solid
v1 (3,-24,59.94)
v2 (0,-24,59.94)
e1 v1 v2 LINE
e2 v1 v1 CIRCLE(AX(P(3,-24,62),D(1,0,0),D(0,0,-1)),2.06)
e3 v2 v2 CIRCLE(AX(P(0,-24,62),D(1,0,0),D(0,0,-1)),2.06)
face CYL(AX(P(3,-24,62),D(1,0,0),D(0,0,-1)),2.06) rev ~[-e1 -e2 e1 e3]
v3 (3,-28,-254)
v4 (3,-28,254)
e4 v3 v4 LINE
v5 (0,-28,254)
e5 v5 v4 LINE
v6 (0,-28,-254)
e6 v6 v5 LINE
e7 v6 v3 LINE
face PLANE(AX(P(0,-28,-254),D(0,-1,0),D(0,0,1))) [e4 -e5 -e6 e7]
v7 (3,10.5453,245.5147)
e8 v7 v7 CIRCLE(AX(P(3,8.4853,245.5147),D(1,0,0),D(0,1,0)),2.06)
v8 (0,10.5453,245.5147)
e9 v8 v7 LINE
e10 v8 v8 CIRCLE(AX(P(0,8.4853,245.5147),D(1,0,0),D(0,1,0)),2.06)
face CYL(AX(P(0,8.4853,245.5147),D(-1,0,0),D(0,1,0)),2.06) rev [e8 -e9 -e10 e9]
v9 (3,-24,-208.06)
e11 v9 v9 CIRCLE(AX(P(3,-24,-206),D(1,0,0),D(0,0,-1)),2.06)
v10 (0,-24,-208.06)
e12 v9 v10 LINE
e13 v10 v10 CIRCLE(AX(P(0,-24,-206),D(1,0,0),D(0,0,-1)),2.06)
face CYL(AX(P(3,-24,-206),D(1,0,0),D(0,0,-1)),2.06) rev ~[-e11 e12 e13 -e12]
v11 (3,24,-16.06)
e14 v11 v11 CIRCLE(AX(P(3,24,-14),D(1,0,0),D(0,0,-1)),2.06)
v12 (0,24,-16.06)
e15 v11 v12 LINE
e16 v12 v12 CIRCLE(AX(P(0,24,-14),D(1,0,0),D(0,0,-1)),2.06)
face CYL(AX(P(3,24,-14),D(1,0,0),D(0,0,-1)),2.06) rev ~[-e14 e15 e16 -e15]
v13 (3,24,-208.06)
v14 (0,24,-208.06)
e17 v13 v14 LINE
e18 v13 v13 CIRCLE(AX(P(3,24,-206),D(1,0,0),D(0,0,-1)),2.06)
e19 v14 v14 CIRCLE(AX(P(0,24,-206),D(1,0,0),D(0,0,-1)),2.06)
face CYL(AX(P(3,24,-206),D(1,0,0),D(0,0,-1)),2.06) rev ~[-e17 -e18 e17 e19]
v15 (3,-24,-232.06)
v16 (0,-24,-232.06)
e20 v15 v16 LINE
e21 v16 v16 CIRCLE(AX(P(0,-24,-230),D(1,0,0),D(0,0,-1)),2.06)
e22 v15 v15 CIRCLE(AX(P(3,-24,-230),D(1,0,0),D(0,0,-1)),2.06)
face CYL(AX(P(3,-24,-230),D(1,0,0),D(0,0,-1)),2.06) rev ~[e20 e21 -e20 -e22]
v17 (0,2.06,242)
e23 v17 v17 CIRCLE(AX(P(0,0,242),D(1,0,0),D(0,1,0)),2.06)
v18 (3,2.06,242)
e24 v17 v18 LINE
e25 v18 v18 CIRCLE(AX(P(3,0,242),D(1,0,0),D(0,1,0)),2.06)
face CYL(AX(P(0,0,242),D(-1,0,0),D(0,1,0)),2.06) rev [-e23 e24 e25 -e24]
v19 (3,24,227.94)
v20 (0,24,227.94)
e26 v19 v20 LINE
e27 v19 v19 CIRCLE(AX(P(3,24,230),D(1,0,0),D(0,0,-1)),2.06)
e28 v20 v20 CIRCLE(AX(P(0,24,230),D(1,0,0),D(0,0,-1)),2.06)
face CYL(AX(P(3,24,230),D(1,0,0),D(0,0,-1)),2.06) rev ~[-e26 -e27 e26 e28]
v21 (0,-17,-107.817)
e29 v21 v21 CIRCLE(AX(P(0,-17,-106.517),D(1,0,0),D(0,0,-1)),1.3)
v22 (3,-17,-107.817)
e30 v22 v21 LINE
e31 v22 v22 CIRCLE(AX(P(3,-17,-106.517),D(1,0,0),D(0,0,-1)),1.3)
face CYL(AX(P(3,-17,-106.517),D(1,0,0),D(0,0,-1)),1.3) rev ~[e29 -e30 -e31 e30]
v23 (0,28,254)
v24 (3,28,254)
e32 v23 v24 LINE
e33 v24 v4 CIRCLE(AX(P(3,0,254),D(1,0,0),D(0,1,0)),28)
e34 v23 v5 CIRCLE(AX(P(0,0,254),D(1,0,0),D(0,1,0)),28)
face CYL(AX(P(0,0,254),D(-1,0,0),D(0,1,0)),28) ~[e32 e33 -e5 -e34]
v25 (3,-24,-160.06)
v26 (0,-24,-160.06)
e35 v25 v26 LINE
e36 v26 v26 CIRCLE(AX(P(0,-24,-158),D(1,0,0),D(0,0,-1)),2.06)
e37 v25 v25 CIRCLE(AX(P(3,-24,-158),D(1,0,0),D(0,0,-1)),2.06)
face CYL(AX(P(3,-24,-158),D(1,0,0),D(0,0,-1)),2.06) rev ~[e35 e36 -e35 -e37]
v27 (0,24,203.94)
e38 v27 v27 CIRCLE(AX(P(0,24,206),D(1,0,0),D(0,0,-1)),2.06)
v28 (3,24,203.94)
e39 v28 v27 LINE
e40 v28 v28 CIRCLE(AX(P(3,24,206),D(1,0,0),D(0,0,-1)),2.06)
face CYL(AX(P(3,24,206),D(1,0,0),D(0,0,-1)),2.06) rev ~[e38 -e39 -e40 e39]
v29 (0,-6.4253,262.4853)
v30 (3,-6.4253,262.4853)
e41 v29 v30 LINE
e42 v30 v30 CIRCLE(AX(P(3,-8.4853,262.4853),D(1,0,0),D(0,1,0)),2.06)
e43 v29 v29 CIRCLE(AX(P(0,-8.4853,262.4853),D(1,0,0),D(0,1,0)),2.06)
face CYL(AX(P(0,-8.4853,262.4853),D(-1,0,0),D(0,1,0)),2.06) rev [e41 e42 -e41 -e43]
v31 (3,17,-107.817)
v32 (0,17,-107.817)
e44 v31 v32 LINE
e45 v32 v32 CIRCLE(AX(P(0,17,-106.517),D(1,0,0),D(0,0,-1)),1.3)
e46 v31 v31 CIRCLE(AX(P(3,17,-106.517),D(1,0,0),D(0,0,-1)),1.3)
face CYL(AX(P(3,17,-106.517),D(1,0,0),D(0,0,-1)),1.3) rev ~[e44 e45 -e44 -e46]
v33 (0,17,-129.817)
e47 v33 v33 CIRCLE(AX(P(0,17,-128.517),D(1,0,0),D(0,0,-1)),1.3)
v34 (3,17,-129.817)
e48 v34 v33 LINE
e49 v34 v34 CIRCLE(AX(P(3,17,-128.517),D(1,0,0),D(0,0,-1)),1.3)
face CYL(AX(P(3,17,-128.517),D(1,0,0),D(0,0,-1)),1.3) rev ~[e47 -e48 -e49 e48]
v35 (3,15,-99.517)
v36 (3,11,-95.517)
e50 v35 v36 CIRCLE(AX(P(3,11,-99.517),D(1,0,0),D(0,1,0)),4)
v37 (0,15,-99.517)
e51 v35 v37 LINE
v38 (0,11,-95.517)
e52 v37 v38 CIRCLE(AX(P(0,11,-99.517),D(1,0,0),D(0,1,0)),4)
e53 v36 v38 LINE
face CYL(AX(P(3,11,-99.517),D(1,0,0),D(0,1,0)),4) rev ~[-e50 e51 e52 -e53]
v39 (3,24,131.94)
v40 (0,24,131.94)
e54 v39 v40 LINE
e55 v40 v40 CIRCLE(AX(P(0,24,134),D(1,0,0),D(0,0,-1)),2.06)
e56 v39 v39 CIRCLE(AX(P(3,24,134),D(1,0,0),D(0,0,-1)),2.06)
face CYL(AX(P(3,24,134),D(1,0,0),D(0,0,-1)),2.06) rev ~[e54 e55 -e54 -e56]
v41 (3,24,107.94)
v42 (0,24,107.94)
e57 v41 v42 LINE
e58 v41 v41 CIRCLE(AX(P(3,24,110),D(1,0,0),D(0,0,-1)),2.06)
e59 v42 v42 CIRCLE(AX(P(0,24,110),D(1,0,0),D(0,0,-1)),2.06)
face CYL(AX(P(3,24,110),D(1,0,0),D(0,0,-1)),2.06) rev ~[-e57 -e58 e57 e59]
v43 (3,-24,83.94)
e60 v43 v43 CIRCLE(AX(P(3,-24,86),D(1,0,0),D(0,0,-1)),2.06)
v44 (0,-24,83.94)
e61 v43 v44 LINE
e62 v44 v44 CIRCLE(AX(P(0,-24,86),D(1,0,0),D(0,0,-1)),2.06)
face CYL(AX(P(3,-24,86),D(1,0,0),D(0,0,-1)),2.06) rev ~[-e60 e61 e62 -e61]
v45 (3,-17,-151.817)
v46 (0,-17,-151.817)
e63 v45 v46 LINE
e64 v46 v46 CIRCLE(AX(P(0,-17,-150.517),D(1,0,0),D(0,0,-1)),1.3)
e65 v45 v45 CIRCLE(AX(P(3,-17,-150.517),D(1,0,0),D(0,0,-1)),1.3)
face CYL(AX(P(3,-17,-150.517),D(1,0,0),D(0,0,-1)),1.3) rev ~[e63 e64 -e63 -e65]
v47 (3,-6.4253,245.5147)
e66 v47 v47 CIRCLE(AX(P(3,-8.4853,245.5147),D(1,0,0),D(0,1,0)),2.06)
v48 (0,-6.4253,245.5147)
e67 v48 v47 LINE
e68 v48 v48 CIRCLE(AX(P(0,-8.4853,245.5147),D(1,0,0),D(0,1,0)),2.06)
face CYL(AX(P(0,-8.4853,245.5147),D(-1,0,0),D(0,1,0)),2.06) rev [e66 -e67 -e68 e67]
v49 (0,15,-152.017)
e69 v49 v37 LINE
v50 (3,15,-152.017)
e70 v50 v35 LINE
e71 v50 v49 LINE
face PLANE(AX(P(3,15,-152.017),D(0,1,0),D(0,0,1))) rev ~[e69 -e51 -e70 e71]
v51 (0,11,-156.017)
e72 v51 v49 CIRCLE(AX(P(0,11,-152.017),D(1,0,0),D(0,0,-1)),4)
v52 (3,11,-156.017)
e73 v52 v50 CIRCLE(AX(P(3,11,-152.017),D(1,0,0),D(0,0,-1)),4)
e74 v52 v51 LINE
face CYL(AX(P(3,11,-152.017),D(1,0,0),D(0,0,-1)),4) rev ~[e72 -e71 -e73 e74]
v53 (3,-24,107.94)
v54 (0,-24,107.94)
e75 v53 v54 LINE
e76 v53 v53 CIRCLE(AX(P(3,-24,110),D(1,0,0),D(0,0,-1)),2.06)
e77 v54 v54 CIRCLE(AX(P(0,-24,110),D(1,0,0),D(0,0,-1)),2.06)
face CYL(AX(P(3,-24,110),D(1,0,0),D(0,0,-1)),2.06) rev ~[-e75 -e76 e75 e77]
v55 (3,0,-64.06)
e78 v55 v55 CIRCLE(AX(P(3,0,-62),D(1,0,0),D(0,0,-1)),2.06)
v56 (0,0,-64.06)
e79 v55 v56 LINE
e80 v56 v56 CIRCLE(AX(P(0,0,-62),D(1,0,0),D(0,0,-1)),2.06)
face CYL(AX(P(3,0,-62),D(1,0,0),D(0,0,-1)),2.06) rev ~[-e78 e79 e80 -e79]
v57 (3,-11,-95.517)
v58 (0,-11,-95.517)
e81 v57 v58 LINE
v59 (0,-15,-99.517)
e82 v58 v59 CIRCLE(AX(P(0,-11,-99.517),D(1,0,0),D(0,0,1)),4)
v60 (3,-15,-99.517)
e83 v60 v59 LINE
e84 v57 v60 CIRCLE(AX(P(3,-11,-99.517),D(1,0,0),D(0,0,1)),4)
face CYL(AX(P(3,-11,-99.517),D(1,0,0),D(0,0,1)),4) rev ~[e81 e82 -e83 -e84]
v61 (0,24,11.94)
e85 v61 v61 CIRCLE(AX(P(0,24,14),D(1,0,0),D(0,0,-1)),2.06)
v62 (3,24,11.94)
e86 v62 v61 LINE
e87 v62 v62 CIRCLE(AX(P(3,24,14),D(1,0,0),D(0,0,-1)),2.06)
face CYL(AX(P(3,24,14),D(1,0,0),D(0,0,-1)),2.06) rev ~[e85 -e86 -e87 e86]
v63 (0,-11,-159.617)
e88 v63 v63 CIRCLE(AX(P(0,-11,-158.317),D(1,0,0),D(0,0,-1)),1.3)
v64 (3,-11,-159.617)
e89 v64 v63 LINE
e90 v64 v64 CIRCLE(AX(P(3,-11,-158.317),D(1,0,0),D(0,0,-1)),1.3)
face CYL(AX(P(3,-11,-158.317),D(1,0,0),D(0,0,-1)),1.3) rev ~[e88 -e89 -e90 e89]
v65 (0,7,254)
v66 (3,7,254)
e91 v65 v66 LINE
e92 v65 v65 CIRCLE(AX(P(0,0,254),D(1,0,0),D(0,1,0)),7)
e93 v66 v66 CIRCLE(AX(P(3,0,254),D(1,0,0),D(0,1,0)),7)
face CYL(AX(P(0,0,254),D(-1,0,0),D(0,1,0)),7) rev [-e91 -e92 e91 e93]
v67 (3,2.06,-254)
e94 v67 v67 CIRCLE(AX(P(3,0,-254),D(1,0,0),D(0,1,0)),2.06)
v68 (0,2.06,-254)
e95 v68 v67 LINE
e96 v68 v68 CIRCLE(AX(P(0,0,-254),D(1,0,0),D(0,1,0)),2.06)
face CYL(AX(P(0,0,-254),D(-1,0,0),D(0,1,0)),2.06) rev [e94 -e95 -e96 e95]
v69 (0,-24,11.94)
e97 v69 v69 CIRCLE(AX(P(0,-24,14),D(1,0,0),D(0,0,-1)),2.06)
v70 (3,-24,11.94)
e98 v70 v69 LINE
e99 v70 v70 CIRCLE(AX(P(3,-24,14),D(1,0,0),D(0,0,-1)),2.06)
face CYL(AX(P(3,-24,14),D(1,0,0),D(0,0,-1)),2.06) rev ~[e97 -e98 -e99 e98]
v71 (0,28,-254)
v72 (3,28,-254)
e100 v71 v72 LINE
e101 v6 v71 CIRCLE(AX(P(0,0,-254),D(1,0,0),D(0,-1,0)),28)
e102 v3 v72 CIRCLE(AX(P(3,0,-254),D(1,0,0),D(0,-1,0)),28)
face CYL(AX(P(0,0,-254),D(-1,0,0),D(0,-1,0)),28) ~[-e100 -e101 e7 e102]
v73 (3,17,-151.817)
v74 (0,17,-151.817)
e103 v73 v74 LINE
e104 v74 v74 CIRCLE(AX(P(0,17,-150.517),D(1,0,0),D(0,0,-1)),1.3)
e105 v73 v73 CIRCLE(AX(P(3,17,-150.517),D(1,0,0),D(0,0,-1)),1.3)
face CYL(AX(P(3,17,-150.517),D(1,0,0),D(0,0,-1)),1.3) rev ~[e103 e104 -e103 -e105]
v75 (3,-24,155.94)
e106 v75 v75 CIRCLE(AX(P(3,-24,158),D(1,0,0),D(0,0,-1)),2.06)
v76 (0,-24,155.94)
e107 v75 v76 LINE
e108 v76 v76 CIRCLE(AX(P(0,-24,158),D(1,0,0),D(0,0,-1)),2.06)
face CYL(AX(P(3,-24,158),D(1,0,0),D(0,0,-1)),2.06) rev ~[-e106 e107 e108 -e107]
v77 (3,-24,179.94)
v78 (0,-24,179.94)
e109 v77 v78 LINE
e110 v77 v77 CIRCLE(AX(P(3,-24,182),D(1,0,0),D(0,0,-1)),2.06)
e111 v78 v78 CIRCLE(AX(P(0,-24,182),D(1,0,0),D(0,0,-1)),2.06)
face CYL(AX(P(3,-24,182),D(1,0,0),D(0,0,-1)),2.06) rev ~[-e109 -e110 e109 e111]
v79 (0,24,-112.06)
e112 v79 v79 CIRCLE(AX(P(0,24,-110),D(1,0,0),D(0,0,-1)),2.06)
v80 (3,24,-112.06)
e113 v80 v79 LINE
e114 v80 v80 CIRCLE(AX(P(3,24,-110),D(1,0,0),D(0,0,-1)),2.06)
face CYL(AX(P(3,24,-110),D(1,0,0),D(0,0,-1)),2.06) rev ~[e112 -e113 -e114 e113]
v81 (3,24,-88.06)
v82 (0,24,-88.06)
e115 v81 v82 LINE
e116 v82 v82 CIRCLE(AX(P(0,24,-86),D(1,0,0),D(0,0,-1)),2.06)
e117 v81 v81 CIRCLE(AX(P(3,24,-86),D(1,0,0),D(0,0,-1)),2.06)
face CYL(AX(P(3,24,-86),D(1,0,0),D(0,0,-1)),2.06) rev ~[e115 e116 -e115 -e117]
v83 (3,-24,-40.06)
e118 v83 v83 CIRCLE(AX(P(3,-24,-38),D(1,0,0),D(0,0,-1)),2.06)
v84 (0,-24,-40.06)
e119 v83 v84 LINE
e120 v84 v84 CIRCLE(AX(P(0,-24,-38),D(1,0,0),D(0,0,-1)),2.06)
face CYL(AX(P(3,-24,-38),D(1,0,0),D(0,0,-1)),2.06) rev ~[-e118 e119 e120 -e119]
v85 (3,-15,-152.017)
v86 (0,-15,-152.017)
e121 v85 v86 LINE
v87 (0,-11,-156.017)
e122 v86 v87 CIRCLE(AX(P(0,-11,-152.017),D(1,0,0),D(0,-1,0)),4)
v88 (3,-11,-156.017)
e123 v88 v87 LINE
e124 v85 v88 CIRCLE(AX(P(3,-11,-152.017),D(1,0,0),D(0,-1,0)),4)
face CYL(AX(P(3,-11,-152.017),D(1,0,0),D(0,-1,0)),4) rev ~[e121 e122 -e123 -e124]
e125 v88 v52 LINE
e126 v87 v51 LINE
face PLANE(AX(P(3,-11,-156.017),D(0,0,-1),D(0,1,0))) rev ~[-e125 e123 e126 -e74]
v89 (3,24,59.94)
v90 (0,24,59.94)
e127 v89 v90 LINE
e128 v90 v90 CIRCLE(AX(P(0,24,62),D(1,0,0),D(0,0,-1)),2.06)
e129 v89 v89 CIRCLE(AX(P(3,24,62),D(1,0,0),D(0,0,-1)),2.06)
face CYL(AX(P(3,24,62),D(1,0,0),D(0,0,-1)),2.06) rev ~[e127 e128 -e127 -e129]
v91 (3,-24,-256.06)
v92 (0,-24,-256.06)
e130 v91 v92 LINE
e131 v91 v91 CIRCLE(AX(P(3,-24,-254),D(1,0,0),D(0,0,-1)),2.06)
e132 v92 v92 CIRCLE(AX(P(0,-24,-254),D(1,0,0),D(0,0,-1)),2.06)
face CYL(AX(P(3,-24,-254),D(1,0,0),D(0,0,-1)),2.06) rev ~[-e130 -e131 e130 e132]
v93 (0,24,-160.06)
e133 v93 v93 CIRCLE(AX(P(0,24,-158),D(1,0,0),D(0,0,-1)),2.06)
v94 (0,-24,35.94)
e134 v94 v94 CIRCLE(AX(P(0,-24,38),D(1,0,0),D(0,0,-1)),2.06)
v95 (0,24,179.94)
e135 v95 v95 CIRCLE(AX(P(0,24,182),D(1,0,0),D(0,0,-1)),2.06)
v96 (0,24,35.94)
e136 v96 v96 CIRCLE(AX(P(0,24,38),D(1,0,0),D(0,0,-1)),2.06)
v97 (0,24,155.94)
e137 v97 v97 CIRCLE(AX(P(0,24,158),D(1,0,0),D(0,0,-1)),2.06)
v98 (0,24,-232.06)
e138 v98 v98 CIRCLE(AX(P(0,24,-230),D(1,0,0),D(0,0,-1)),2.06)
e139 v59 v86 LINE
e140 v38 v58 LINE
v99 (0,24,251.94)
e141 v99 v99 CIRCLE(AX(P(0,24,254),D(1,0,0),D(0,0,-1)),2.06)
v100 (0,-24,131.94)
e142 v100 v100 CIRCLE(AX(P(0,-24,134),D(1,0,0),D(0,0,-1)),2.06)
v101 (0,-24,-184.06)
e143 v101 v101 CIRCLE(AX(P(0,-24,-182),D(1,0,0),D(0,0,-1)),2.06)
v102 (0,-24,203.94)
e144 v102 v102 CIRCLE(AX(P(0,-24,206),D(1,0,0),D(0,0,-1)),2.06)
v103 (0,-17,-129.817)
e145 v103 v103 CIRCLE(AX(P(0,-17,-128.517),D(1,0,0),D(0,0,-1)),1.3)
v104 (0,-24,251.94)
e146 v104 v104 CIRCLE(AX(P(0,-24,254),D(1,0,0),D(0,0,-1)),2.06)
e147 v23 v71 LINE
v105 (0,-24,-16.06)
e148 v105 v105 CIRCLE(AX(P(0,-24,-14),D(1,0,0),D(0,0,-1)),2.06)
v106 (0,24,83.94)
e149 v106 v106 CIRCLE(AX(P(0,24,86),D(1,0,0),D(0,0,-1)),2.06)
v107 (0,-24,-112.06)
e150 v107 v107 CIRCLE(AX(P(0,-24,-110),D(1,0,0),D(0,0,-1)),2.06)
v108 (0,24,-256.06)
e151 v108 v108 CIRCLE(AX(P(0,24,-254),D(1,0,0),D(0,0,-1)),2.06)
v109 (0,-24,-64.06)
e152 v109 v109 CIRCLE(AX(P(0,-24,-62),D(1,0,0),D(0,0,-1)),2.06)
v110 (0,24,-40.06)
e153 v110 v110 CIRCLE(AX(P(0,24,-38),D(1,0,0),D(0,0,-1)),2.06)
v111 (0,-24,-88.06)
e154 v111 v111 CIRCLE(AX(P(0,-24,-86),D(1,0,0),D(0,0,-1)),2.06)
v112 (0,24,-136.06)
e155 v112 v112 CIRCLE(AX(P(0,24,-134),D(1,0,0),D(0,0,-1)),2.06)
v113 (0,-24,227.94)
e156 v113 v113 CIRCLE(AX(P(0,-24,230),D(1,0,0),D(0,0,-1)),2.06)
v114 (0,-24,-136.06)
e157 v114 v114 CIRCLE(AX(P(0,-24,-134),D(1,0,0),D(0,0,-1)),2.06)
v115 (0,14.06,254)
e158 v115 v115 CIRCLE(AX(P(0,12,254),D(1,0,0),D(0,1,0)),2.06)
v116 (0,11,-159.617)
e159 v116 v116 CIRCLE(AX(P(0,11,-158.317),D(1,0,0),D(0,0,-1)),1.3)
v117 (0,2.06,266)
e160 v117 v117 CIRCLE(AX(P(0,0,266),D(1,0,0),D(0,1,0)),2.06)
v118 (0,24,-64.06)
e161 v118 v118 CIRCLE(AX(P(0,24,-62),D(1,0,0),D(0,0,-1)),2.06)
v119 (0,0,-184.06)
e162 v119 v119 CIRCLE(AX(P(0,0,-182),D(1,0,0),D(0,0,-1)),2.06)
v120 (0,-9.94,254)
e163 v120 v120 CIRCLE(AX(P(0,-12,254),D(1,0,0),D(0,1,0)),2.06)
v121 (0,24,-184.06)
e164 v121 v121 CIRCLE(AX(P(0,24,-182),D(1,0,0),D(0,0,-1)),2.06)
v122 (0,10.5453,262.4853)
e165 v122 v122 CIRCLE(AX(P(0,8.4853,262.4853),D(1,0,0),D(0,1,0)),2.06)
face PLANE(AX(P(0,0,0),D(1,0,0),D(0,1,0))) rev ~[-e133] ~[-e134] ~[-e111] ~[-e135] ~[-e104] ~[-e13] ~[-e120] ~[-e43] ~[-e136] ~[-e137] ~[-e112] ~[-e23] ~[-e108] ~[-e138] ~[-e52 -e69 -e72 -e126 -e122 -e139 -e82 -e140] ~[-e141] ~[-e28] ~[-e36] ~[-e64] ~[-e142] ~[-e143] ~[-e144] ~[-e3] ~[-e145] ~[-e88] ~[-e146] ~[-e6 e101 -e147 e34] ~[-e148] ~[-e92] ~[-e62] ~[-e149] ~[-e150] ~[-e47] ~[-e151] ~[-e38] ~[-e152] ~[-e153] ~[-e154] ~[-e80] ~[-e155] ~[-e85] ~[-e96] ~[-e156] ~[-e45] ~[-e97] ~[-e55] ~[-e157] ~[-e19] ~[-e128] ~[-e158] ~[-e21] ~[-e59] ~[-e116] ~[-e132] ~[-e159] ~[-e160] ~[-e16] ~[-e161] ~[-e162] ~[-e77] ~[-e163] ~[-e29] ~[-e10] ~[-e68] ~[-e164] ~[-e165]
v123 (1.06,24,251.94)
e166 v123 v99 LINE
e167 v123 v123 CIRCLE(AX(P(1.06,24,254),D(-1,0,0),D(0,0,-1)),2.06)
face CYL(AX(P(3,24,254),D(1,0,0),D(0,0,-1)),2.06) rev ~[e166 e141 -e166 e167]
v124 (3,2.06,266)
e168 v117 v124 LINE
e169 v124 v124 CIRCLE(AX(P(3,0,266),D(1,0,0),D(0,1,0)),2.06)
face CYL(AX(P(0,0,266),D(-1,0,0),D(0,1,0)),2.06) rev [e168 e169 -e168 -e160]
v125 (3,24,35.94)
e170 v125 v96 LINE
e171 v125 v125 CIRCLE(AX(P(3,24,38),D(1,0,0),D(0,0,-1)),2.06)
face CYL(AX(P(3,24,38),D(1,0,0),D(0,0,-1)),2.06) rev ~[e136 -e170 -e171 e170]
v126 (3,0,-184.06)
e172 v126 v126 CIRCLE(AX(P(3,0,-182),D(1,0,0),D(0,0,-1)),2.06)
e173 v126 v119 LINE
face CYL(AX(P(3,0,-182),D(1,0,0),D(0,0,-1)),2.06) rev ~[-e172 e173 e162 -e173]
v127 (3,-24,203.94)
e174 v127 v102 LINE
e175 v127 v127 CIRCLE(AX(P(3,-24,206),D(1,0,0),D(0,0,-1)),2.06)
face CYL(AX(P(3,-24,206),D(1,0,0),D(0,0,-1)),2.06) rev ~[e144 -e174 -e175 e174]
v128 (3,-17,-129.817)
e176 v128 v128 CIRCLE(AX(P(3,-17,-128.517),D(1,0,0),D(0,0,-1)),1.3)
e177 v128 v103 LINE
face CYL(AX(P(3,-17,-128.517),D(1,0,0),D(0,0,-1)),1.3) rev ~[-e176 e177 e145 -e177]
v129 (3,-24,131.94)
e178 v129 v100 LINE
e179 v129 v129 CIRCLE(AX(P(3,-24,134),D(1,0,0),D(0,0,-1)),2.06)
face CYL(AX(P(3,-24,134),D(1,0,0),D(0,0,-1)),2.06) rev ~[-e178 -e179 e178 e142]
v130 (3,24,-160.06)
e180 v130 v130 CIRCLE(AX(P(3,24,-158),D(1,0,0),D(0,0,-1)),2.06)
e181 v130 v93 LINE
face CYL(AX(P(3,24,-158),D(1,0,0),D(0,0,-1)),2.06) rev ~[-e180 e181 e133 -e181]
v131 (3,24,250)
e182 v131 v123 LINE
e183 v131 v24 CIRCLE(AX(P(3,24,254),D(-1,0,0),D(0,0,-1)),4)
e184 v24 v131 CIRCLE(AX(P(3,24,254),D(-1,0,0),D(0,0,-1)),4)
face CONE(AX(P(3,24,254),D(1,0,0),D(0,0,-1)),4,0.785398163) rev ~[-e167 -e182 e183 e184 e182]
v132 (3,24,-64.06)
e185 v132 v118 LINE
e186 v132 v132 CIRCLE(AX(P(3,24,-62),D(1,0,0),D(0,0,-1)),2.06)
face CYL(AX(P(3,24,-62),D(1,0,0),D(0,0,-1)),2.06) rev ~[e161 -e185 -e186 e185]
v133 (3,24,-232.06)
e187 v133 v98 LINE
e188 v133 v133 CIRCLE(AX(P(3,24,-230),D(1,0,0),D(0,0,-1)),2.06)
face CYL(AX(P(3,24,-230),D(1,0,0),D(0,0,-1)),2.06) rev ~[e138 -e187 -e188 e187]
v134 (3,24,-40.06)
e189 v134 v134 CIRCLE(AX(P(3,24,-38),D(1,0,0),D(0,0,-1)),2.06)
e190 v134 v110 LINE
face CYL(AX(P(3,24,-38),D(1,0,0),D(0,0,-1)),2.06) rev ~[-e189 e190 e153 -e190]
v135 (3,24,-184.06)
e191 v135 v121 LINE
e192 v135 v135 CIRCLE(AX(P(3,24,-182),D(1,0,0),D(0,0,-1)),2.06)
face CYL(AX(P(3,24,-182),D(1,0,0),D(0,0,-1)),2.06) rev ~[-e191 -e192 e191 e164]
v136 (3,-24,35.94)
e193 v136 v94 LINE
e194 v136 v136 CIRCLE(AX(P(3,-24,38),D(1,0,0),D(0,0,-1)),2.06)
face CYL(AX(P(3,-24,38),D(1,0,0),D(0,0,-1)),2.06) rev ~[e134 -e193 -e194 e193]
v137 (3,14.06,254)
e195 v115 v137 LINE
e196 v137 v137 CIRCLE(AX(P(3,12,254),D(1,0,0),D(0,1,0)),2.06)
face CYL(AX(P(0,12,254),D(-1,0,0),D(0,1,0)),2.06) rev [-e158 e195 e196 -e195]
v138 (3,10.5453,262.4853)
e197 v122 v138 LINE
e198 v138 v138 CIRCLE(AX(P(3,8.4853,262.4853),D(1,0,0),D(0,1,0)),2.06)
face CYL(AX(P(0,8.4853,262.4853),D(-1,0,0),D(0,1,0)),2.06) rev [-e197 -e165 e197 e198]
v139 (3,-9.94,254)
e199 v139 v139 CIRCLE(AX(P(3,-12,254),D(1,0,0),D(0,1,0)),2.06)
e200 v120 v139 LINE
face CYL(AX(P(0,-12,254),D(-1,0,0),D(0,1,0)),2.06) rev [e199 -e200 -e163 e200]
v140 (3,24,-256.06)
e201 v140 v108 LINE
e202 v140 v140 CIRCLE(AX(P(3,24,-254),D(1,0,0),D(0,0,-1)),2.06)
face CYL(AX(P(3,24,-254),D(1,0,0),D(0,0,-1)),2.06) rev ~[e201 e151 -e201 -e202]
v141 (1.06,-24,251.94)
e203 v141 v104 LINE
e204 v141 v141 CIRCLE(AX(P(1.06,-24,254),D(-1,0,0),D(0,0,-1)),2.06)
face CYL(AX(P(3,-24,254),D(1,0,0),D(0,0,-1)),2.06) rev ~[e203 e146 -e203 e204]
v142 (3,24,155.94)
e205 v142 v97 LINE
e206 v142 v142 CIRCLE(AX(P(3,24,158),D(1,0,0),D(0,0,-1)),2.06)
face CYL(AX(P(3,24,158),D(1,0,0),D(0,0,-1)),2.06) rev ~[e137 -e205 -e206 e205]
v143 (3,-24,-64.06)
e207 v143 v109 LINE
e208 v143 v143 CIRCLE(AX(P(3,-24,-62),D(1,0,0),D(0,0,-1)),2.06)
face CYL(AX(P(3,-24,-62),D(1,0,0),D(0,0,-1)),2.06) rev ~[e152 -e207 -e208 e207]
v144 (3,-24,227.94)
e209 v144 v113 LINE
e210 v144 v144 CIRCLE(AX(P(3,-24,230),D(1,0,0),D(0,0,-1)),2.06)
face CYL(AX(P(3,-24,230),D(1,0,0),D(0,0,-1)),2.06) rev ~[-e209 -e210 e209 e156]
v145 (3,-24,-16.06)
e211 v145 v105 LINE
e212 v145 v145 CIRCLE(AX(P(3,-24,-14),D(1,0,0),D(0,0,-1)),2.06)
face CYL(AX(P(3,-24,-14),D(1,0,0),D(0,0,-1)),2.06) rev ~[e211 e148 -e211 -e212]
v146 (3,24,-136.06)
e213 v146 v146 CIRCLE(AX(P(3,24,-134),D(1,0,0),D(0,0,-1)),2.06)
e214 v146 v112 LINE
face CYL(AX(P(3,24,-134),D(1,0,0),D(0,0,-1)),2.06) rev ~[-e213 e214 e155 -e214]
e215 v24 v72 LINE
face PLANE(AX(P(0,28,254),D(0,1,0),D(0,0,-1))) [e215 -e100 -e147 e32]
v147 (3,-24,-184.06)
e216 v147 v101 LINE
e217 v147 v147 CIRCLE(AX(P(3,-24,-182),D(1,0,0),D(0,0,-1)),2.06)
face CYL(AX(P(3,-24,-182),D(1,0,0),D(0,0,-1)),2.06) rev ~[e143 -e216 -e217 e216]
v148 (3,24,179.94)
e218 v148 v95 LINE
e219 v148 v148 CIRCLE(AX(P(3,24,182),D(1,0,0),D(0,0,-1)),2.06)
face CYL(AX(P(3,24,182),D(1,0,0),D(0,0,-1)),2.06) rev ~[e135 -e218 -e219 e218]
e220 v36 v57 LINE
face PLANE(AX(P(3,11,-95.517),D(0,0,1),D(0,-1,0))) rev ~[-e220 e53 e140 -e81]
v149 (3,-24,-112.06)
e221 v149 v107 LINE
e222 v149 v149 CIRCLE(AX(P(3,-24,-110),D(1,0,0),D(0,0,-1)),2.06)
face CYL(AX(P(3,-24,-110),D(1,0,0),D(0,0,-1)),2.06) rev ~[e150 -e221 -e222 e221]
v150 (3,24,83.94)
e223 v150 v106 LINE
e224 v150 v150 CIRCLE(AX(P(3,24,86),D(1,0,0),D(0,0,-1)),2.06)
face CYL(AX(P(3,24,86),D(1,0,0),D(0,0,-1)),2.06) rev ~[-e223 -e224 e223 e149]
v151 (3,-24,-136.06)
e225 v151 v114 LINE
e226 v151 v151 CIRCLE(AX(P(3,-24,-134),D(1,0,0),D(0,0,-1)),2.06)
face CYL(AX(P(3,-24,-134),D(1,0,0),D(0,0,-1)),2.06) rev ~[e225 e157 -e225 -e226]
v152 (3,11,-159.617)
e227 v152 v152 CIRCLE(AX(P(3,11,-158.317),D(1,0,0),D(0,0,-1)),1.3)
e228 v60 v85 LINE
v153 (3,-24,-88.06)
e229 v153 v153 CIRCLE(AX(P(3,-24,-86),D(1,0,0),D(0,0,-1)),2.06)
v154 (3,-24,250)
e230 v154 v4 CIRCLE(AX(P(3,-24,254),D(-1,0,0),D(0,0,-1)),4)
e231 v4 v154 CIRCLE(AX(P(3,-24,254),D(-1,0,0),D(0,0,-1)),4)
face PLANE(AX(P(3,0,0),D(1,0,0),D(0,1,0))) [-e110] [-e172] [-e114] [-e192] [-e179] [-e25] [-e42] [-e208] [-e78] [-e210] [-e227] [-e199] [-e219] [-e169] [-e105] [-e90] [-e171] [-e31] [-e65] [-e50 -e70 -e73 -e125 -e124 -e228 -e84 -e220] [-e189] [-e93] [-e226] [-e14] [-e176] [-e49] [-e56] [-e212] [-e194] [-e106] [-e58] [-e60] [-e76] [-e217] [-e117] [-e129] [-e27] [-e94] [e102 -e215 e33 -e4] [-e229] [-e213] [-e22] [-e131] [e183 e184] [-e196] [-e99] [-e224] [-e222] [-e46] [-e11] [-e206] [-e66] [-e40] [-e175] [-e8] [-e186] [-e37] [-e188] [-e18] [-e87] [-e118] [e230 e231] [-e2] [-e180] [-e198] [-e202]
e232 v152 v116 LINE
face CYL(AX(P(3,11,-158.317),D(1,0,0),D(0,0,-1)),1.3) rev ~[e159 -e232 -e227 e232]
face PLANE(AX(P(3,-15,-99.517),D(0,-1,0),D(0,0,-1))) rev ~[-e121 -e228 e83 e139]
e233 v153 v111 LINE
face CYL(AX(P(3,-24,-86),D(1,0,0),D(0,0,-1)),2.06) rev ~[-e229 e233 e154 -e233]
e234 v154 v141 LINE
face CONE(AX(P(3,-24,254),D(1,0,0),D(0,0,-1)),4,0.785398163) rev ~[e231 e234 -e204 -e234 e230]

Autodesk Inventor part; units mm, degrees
ref_plane "YZ Plane" through (0, 0, 0) normal (1, 0, 0) x (0, 1, 0)
ref_plane "XZ Plane" through (0, 0, 0) normal (0, 1, 0) x (-1, 0, 0)
ref_plane "XY Plane" through (0, 0, 0) normal (0, 0, 1) x (1, 0, 0)
sketch "Sketch1" plane through (0, 0, 0) normal (1, 0, 0) x (0, 1, 0)
  line L0 (-28, 254) -> (28, 254) construction
  line L1 (28, 254) -> (28, -254)
  line L2 (28, -254) -> (-28, -254) construction
  line L3 (-28, -254) -> (-28, 254)
  line L4 (-28, 254) -> (28, -254) construction
  line L5 (28, 254) -> (-28, -254) construction
  arc A0 (28, 254) -> (-28, 254) centre (0, 254) ccw
  arc A1 (-28, -254) -> (28, -254) centre (0, -254) ccw
  circle A2 centre (0, 254) radius 7
  circle A3 centre (8.4853, 262.4853) radius 2.06
  circle A4 centre (0, 266) radius 2.06
  circle A5 centre (-8.4853, 262.4853) radius 2.06
  circle A6 centre (-12, 254) radius 2.06
  circle A7 centre (0, -254) radius 2.06
  line L6 (8.4853, 262.4853) -> (0, 254) construction
  line L7 (0, 254) -> (0, 261) construction
  circle A8 centre (-8.4853, 245.5147) radius 2.06
  circle A9 centre (0, 242) radius 2.06
  circle A10 centre (8.4853, 245.5147) radius 2.06
  circle A11 centre (12, 254) radius 2.06
  point P0 (0, 0)
  dimension "d2" = 14
  dimension "d0" = 56
  dimension "d1" = 508
  dimension "d3" = 4.12
  dimension "d8" = 360
  dimension "d10" = 4.12
  dimension "d31" = 45
  dimension "d32" = 12
extrude "Extrusion1" add sketch "Sketch1" along normal blind 3
sketch "Sketch2" plane through (3, 0, 0) normal (1, 0, 0) x (0, 0, -1)
  circle A0 centre (-254, 24) radius 2.06
  circle A1 centre (-254, 0) radius 7 construction
  line L0 (254, 28) -> (-254, 28) construction
  circle A2 centre (-230, 24) radius 2.06
  circle A3 centre (-206, 24) radius 2.06
  circle A4 centre (-182, 24) radius 2.06
  circle A5 centre (-158, 24) radius 2.06
  circle A6 centre (-134, 24) radius 2.06
  circle A7 centre (-110, 24) radius 2.06
  circle A8 centre (-86, 24) radius 2.06
  circle A9 centre (-62, 24) radius 2.06
  circle A10 centre (-38, 24) radius 2.06
  circle A11 centre (-14, 24) radius 2.06
  line L1 (0, 28) -> (0, -28) construction
  line L2 (-254, -28) -> (254, -28) construction
  arc A12 (-254, 28) -> (-254, -28) centre (-254, 0) ccw construction
  circle A13 centre (254, 0) radius 2.06 construction
  line L3 (-254, 0) -> (254, 0) construction
  circle A14 centre (254, 24) radius 2.06
  circle A15 centre (230, 24) radius 2.06
  circle A16 centre (206, 24) radius 2.06
  circle A17 centre (182, 24) radius 2.06
  circle A18 centre (158, 24) radius 2.06
  circle A19 centre (134, 24) radius 2.06
  circle A20 centre (110, 24) radius 2.06
  circle A21 centre (86, 24) radius 2.06
  circle A22 centre (62, 24) radius 2.06
  circle A23 centre (38, 24) radius 2.06
  circle A24 centre (14, 24) radius 2.06
  circle A25 centre (-254, -24) radius 2.06
  circle A26 centre (-230, -24) radius 2.06
  circle A27 centre (-206, -24) radius 2.06
  circle A28 centre (-182, -24) radius 2.06
  circle A29 centre (-158, -24) radius 2.06
  circle A30 centre (-134, -24) radius 2.06
  circle A31 centre (-110, -24) radius 2.06
  circle A32 centre (-86, -24) radius 2.06
  circle A33 centre (-62, -24) radius 2.06
  circle A34 centre (-38, -24) radius 2.06
  circle A35 centre (-14, -24) radius 2.06
  circle A36 centre (254, -24) radius 2.06
  circle A37 centre (230, -24) radius 2.06
  circle A38 centre (206, -24) radius 2.06
  circle A39 centre (182, -24) radius 2.06
  circle A40 centre (158, -24) radius 2.06
  circle A41 centre (134, -24) radius 2.06
  circle A42 centre (86, -24) radius 2.06
  circle A43 centre (62, -24) radius 2.06
  circle A44 centre (38, -24) radius 2.06
  circle A45 centre (14, -24) radius 2.06
  circle A46 centre (110, -24) radius 2.06
  point P0 (0, 0)
  dimension "d20" = 4.12
  dimension "d21" = 4
  dimension "d24" = 24
extrude "Extrusion2" cut sketch "Sketch2" against normal through all
sketch "Sketch5" plane through (3, 0, 0) normal (1, 0, 0) x (0, 0, -1)
  circle A0 centre (254, 0) radius 2.06 construction
  line L0 (254, 0) -> (110.517, 0) construction
  line L1 (110.517, 0) -> (106.517, 0) construction
  line L2 (106.517, 0) -> (106.517, -17) construction
  circle A1 centre (106.517, -17) radius 1.3
  circle A2 centre (128.517, -17) radius 1.3
  circle A3 centre (150.517, -17) radius 1.3
  circle A4 centre (106.517, 17) radius 1.3
  circle A5 centre (128.517, 17) radius 1.3
  circle A6 centre (150.517, 17) radius 1.3
  circle A7 centre (158.317, -11) radius 1.3
  circle A8 centre (158.317, 11) radius 1.3
  line L3 (152.017, -14.5) -> (99.517, -14.5) construction
  line L4 (96.017, -11) -> (96.017, 11) construction
  line L5 (99.517, 14.5) -> (152.017, 14.5) construction
  line L6 (155.517, 11) -> (155.517, -11) construction
  arc A9 (99.517, 14.5) -> (96.017, 11) centre (99.517, 11) ccw construction
  arc A10 (96.017, -11) -> (99.517, -14.5) centre (99.517, -11) ccw construction
  arc A11 (152.017, -14.5) -> (155.517, -11) centre (152.017, -11) ccw construction
  arc A12 (155.517, 11) -> (152.017, 14.5) centre (152.017, 11) ccw construction
  line L7 (95.517, 11) -> (95.517, -11)
  arc A13 (95.517, -11) -> (99.517, -15) centre (99.517, -11) ccw
  line L8 (99.517, -15) -> (152.017, -15)
  arc A14 (152.017, -15) -> (156.017, -11) centre (152.017, -11) ccw
  line L9 (156.017, -11) -> (156.017, 11)
  arc A15 (156.017, 11) -> (152.017, 15) centre (152.017, 11) ccw
  line L10 (152.017, 15) -> (99.517, 15)
  arc A16 (99.517, 15) -> (95.517, 11) centre (99.517, 11) ccw
  point P0 (0, 0)
  point P1 (155.517, -14.5)
  point P2 (96.017, 14.5)
  point P3 (155.517, 14.5)
  dimension "d37" = 143.483
  dimension "d38" = 4
  dimension "d39" = 17
  dimension "d40" = 2.6
  dimension "d41" = 2.6
  dimension "d42" = 22
  dimension "d43" = 2.6
  dimension "d44" = 22
  dimension "d45" = 2.6
  dimension "d47" = 7.8
  dimension "d48" = 11
  dimension "d49" = 14.5
  dimension "d50" = 5
  dimension "d51" = 29
  dimension "d52" = 59.5
  dimension "d53" = 3.5
  dimension "d54" = 3.5
  dimension "d55" = 0.5
extrude "Extrusion4" cut sketch "Sketch5" against normal through all
sketch "Sketch6" plane through (3, 0, 0) normal (1, 0, 0) x (0, 0, -1)
  circle A0 centre (182, 0) radius 2.06
  circle A1 centre (254, 0) radius 2.06 construction
  circle A2 centre (62, 0) radius 2.06
  point P0 (0, 0)
  dimension "d58" = 4.12
  dimension "d59" = 72
  dimension "d60" = 4.12
  dimension "d61" = 120
extrude "Extrusion5" cut sketch "Sketch6" against normal through all
hole "Hole1" at (3, 24, 254) at (3, -24, 254) direction (-1, 0, 0) diameter 4.12 end through all countersink diameter 8 countersink angle 90
equation "\"d41\" = d40"
equation "\"d43\" = d40"
properties part number "SecondStageArmBar1" material "Aluminum 6061"
